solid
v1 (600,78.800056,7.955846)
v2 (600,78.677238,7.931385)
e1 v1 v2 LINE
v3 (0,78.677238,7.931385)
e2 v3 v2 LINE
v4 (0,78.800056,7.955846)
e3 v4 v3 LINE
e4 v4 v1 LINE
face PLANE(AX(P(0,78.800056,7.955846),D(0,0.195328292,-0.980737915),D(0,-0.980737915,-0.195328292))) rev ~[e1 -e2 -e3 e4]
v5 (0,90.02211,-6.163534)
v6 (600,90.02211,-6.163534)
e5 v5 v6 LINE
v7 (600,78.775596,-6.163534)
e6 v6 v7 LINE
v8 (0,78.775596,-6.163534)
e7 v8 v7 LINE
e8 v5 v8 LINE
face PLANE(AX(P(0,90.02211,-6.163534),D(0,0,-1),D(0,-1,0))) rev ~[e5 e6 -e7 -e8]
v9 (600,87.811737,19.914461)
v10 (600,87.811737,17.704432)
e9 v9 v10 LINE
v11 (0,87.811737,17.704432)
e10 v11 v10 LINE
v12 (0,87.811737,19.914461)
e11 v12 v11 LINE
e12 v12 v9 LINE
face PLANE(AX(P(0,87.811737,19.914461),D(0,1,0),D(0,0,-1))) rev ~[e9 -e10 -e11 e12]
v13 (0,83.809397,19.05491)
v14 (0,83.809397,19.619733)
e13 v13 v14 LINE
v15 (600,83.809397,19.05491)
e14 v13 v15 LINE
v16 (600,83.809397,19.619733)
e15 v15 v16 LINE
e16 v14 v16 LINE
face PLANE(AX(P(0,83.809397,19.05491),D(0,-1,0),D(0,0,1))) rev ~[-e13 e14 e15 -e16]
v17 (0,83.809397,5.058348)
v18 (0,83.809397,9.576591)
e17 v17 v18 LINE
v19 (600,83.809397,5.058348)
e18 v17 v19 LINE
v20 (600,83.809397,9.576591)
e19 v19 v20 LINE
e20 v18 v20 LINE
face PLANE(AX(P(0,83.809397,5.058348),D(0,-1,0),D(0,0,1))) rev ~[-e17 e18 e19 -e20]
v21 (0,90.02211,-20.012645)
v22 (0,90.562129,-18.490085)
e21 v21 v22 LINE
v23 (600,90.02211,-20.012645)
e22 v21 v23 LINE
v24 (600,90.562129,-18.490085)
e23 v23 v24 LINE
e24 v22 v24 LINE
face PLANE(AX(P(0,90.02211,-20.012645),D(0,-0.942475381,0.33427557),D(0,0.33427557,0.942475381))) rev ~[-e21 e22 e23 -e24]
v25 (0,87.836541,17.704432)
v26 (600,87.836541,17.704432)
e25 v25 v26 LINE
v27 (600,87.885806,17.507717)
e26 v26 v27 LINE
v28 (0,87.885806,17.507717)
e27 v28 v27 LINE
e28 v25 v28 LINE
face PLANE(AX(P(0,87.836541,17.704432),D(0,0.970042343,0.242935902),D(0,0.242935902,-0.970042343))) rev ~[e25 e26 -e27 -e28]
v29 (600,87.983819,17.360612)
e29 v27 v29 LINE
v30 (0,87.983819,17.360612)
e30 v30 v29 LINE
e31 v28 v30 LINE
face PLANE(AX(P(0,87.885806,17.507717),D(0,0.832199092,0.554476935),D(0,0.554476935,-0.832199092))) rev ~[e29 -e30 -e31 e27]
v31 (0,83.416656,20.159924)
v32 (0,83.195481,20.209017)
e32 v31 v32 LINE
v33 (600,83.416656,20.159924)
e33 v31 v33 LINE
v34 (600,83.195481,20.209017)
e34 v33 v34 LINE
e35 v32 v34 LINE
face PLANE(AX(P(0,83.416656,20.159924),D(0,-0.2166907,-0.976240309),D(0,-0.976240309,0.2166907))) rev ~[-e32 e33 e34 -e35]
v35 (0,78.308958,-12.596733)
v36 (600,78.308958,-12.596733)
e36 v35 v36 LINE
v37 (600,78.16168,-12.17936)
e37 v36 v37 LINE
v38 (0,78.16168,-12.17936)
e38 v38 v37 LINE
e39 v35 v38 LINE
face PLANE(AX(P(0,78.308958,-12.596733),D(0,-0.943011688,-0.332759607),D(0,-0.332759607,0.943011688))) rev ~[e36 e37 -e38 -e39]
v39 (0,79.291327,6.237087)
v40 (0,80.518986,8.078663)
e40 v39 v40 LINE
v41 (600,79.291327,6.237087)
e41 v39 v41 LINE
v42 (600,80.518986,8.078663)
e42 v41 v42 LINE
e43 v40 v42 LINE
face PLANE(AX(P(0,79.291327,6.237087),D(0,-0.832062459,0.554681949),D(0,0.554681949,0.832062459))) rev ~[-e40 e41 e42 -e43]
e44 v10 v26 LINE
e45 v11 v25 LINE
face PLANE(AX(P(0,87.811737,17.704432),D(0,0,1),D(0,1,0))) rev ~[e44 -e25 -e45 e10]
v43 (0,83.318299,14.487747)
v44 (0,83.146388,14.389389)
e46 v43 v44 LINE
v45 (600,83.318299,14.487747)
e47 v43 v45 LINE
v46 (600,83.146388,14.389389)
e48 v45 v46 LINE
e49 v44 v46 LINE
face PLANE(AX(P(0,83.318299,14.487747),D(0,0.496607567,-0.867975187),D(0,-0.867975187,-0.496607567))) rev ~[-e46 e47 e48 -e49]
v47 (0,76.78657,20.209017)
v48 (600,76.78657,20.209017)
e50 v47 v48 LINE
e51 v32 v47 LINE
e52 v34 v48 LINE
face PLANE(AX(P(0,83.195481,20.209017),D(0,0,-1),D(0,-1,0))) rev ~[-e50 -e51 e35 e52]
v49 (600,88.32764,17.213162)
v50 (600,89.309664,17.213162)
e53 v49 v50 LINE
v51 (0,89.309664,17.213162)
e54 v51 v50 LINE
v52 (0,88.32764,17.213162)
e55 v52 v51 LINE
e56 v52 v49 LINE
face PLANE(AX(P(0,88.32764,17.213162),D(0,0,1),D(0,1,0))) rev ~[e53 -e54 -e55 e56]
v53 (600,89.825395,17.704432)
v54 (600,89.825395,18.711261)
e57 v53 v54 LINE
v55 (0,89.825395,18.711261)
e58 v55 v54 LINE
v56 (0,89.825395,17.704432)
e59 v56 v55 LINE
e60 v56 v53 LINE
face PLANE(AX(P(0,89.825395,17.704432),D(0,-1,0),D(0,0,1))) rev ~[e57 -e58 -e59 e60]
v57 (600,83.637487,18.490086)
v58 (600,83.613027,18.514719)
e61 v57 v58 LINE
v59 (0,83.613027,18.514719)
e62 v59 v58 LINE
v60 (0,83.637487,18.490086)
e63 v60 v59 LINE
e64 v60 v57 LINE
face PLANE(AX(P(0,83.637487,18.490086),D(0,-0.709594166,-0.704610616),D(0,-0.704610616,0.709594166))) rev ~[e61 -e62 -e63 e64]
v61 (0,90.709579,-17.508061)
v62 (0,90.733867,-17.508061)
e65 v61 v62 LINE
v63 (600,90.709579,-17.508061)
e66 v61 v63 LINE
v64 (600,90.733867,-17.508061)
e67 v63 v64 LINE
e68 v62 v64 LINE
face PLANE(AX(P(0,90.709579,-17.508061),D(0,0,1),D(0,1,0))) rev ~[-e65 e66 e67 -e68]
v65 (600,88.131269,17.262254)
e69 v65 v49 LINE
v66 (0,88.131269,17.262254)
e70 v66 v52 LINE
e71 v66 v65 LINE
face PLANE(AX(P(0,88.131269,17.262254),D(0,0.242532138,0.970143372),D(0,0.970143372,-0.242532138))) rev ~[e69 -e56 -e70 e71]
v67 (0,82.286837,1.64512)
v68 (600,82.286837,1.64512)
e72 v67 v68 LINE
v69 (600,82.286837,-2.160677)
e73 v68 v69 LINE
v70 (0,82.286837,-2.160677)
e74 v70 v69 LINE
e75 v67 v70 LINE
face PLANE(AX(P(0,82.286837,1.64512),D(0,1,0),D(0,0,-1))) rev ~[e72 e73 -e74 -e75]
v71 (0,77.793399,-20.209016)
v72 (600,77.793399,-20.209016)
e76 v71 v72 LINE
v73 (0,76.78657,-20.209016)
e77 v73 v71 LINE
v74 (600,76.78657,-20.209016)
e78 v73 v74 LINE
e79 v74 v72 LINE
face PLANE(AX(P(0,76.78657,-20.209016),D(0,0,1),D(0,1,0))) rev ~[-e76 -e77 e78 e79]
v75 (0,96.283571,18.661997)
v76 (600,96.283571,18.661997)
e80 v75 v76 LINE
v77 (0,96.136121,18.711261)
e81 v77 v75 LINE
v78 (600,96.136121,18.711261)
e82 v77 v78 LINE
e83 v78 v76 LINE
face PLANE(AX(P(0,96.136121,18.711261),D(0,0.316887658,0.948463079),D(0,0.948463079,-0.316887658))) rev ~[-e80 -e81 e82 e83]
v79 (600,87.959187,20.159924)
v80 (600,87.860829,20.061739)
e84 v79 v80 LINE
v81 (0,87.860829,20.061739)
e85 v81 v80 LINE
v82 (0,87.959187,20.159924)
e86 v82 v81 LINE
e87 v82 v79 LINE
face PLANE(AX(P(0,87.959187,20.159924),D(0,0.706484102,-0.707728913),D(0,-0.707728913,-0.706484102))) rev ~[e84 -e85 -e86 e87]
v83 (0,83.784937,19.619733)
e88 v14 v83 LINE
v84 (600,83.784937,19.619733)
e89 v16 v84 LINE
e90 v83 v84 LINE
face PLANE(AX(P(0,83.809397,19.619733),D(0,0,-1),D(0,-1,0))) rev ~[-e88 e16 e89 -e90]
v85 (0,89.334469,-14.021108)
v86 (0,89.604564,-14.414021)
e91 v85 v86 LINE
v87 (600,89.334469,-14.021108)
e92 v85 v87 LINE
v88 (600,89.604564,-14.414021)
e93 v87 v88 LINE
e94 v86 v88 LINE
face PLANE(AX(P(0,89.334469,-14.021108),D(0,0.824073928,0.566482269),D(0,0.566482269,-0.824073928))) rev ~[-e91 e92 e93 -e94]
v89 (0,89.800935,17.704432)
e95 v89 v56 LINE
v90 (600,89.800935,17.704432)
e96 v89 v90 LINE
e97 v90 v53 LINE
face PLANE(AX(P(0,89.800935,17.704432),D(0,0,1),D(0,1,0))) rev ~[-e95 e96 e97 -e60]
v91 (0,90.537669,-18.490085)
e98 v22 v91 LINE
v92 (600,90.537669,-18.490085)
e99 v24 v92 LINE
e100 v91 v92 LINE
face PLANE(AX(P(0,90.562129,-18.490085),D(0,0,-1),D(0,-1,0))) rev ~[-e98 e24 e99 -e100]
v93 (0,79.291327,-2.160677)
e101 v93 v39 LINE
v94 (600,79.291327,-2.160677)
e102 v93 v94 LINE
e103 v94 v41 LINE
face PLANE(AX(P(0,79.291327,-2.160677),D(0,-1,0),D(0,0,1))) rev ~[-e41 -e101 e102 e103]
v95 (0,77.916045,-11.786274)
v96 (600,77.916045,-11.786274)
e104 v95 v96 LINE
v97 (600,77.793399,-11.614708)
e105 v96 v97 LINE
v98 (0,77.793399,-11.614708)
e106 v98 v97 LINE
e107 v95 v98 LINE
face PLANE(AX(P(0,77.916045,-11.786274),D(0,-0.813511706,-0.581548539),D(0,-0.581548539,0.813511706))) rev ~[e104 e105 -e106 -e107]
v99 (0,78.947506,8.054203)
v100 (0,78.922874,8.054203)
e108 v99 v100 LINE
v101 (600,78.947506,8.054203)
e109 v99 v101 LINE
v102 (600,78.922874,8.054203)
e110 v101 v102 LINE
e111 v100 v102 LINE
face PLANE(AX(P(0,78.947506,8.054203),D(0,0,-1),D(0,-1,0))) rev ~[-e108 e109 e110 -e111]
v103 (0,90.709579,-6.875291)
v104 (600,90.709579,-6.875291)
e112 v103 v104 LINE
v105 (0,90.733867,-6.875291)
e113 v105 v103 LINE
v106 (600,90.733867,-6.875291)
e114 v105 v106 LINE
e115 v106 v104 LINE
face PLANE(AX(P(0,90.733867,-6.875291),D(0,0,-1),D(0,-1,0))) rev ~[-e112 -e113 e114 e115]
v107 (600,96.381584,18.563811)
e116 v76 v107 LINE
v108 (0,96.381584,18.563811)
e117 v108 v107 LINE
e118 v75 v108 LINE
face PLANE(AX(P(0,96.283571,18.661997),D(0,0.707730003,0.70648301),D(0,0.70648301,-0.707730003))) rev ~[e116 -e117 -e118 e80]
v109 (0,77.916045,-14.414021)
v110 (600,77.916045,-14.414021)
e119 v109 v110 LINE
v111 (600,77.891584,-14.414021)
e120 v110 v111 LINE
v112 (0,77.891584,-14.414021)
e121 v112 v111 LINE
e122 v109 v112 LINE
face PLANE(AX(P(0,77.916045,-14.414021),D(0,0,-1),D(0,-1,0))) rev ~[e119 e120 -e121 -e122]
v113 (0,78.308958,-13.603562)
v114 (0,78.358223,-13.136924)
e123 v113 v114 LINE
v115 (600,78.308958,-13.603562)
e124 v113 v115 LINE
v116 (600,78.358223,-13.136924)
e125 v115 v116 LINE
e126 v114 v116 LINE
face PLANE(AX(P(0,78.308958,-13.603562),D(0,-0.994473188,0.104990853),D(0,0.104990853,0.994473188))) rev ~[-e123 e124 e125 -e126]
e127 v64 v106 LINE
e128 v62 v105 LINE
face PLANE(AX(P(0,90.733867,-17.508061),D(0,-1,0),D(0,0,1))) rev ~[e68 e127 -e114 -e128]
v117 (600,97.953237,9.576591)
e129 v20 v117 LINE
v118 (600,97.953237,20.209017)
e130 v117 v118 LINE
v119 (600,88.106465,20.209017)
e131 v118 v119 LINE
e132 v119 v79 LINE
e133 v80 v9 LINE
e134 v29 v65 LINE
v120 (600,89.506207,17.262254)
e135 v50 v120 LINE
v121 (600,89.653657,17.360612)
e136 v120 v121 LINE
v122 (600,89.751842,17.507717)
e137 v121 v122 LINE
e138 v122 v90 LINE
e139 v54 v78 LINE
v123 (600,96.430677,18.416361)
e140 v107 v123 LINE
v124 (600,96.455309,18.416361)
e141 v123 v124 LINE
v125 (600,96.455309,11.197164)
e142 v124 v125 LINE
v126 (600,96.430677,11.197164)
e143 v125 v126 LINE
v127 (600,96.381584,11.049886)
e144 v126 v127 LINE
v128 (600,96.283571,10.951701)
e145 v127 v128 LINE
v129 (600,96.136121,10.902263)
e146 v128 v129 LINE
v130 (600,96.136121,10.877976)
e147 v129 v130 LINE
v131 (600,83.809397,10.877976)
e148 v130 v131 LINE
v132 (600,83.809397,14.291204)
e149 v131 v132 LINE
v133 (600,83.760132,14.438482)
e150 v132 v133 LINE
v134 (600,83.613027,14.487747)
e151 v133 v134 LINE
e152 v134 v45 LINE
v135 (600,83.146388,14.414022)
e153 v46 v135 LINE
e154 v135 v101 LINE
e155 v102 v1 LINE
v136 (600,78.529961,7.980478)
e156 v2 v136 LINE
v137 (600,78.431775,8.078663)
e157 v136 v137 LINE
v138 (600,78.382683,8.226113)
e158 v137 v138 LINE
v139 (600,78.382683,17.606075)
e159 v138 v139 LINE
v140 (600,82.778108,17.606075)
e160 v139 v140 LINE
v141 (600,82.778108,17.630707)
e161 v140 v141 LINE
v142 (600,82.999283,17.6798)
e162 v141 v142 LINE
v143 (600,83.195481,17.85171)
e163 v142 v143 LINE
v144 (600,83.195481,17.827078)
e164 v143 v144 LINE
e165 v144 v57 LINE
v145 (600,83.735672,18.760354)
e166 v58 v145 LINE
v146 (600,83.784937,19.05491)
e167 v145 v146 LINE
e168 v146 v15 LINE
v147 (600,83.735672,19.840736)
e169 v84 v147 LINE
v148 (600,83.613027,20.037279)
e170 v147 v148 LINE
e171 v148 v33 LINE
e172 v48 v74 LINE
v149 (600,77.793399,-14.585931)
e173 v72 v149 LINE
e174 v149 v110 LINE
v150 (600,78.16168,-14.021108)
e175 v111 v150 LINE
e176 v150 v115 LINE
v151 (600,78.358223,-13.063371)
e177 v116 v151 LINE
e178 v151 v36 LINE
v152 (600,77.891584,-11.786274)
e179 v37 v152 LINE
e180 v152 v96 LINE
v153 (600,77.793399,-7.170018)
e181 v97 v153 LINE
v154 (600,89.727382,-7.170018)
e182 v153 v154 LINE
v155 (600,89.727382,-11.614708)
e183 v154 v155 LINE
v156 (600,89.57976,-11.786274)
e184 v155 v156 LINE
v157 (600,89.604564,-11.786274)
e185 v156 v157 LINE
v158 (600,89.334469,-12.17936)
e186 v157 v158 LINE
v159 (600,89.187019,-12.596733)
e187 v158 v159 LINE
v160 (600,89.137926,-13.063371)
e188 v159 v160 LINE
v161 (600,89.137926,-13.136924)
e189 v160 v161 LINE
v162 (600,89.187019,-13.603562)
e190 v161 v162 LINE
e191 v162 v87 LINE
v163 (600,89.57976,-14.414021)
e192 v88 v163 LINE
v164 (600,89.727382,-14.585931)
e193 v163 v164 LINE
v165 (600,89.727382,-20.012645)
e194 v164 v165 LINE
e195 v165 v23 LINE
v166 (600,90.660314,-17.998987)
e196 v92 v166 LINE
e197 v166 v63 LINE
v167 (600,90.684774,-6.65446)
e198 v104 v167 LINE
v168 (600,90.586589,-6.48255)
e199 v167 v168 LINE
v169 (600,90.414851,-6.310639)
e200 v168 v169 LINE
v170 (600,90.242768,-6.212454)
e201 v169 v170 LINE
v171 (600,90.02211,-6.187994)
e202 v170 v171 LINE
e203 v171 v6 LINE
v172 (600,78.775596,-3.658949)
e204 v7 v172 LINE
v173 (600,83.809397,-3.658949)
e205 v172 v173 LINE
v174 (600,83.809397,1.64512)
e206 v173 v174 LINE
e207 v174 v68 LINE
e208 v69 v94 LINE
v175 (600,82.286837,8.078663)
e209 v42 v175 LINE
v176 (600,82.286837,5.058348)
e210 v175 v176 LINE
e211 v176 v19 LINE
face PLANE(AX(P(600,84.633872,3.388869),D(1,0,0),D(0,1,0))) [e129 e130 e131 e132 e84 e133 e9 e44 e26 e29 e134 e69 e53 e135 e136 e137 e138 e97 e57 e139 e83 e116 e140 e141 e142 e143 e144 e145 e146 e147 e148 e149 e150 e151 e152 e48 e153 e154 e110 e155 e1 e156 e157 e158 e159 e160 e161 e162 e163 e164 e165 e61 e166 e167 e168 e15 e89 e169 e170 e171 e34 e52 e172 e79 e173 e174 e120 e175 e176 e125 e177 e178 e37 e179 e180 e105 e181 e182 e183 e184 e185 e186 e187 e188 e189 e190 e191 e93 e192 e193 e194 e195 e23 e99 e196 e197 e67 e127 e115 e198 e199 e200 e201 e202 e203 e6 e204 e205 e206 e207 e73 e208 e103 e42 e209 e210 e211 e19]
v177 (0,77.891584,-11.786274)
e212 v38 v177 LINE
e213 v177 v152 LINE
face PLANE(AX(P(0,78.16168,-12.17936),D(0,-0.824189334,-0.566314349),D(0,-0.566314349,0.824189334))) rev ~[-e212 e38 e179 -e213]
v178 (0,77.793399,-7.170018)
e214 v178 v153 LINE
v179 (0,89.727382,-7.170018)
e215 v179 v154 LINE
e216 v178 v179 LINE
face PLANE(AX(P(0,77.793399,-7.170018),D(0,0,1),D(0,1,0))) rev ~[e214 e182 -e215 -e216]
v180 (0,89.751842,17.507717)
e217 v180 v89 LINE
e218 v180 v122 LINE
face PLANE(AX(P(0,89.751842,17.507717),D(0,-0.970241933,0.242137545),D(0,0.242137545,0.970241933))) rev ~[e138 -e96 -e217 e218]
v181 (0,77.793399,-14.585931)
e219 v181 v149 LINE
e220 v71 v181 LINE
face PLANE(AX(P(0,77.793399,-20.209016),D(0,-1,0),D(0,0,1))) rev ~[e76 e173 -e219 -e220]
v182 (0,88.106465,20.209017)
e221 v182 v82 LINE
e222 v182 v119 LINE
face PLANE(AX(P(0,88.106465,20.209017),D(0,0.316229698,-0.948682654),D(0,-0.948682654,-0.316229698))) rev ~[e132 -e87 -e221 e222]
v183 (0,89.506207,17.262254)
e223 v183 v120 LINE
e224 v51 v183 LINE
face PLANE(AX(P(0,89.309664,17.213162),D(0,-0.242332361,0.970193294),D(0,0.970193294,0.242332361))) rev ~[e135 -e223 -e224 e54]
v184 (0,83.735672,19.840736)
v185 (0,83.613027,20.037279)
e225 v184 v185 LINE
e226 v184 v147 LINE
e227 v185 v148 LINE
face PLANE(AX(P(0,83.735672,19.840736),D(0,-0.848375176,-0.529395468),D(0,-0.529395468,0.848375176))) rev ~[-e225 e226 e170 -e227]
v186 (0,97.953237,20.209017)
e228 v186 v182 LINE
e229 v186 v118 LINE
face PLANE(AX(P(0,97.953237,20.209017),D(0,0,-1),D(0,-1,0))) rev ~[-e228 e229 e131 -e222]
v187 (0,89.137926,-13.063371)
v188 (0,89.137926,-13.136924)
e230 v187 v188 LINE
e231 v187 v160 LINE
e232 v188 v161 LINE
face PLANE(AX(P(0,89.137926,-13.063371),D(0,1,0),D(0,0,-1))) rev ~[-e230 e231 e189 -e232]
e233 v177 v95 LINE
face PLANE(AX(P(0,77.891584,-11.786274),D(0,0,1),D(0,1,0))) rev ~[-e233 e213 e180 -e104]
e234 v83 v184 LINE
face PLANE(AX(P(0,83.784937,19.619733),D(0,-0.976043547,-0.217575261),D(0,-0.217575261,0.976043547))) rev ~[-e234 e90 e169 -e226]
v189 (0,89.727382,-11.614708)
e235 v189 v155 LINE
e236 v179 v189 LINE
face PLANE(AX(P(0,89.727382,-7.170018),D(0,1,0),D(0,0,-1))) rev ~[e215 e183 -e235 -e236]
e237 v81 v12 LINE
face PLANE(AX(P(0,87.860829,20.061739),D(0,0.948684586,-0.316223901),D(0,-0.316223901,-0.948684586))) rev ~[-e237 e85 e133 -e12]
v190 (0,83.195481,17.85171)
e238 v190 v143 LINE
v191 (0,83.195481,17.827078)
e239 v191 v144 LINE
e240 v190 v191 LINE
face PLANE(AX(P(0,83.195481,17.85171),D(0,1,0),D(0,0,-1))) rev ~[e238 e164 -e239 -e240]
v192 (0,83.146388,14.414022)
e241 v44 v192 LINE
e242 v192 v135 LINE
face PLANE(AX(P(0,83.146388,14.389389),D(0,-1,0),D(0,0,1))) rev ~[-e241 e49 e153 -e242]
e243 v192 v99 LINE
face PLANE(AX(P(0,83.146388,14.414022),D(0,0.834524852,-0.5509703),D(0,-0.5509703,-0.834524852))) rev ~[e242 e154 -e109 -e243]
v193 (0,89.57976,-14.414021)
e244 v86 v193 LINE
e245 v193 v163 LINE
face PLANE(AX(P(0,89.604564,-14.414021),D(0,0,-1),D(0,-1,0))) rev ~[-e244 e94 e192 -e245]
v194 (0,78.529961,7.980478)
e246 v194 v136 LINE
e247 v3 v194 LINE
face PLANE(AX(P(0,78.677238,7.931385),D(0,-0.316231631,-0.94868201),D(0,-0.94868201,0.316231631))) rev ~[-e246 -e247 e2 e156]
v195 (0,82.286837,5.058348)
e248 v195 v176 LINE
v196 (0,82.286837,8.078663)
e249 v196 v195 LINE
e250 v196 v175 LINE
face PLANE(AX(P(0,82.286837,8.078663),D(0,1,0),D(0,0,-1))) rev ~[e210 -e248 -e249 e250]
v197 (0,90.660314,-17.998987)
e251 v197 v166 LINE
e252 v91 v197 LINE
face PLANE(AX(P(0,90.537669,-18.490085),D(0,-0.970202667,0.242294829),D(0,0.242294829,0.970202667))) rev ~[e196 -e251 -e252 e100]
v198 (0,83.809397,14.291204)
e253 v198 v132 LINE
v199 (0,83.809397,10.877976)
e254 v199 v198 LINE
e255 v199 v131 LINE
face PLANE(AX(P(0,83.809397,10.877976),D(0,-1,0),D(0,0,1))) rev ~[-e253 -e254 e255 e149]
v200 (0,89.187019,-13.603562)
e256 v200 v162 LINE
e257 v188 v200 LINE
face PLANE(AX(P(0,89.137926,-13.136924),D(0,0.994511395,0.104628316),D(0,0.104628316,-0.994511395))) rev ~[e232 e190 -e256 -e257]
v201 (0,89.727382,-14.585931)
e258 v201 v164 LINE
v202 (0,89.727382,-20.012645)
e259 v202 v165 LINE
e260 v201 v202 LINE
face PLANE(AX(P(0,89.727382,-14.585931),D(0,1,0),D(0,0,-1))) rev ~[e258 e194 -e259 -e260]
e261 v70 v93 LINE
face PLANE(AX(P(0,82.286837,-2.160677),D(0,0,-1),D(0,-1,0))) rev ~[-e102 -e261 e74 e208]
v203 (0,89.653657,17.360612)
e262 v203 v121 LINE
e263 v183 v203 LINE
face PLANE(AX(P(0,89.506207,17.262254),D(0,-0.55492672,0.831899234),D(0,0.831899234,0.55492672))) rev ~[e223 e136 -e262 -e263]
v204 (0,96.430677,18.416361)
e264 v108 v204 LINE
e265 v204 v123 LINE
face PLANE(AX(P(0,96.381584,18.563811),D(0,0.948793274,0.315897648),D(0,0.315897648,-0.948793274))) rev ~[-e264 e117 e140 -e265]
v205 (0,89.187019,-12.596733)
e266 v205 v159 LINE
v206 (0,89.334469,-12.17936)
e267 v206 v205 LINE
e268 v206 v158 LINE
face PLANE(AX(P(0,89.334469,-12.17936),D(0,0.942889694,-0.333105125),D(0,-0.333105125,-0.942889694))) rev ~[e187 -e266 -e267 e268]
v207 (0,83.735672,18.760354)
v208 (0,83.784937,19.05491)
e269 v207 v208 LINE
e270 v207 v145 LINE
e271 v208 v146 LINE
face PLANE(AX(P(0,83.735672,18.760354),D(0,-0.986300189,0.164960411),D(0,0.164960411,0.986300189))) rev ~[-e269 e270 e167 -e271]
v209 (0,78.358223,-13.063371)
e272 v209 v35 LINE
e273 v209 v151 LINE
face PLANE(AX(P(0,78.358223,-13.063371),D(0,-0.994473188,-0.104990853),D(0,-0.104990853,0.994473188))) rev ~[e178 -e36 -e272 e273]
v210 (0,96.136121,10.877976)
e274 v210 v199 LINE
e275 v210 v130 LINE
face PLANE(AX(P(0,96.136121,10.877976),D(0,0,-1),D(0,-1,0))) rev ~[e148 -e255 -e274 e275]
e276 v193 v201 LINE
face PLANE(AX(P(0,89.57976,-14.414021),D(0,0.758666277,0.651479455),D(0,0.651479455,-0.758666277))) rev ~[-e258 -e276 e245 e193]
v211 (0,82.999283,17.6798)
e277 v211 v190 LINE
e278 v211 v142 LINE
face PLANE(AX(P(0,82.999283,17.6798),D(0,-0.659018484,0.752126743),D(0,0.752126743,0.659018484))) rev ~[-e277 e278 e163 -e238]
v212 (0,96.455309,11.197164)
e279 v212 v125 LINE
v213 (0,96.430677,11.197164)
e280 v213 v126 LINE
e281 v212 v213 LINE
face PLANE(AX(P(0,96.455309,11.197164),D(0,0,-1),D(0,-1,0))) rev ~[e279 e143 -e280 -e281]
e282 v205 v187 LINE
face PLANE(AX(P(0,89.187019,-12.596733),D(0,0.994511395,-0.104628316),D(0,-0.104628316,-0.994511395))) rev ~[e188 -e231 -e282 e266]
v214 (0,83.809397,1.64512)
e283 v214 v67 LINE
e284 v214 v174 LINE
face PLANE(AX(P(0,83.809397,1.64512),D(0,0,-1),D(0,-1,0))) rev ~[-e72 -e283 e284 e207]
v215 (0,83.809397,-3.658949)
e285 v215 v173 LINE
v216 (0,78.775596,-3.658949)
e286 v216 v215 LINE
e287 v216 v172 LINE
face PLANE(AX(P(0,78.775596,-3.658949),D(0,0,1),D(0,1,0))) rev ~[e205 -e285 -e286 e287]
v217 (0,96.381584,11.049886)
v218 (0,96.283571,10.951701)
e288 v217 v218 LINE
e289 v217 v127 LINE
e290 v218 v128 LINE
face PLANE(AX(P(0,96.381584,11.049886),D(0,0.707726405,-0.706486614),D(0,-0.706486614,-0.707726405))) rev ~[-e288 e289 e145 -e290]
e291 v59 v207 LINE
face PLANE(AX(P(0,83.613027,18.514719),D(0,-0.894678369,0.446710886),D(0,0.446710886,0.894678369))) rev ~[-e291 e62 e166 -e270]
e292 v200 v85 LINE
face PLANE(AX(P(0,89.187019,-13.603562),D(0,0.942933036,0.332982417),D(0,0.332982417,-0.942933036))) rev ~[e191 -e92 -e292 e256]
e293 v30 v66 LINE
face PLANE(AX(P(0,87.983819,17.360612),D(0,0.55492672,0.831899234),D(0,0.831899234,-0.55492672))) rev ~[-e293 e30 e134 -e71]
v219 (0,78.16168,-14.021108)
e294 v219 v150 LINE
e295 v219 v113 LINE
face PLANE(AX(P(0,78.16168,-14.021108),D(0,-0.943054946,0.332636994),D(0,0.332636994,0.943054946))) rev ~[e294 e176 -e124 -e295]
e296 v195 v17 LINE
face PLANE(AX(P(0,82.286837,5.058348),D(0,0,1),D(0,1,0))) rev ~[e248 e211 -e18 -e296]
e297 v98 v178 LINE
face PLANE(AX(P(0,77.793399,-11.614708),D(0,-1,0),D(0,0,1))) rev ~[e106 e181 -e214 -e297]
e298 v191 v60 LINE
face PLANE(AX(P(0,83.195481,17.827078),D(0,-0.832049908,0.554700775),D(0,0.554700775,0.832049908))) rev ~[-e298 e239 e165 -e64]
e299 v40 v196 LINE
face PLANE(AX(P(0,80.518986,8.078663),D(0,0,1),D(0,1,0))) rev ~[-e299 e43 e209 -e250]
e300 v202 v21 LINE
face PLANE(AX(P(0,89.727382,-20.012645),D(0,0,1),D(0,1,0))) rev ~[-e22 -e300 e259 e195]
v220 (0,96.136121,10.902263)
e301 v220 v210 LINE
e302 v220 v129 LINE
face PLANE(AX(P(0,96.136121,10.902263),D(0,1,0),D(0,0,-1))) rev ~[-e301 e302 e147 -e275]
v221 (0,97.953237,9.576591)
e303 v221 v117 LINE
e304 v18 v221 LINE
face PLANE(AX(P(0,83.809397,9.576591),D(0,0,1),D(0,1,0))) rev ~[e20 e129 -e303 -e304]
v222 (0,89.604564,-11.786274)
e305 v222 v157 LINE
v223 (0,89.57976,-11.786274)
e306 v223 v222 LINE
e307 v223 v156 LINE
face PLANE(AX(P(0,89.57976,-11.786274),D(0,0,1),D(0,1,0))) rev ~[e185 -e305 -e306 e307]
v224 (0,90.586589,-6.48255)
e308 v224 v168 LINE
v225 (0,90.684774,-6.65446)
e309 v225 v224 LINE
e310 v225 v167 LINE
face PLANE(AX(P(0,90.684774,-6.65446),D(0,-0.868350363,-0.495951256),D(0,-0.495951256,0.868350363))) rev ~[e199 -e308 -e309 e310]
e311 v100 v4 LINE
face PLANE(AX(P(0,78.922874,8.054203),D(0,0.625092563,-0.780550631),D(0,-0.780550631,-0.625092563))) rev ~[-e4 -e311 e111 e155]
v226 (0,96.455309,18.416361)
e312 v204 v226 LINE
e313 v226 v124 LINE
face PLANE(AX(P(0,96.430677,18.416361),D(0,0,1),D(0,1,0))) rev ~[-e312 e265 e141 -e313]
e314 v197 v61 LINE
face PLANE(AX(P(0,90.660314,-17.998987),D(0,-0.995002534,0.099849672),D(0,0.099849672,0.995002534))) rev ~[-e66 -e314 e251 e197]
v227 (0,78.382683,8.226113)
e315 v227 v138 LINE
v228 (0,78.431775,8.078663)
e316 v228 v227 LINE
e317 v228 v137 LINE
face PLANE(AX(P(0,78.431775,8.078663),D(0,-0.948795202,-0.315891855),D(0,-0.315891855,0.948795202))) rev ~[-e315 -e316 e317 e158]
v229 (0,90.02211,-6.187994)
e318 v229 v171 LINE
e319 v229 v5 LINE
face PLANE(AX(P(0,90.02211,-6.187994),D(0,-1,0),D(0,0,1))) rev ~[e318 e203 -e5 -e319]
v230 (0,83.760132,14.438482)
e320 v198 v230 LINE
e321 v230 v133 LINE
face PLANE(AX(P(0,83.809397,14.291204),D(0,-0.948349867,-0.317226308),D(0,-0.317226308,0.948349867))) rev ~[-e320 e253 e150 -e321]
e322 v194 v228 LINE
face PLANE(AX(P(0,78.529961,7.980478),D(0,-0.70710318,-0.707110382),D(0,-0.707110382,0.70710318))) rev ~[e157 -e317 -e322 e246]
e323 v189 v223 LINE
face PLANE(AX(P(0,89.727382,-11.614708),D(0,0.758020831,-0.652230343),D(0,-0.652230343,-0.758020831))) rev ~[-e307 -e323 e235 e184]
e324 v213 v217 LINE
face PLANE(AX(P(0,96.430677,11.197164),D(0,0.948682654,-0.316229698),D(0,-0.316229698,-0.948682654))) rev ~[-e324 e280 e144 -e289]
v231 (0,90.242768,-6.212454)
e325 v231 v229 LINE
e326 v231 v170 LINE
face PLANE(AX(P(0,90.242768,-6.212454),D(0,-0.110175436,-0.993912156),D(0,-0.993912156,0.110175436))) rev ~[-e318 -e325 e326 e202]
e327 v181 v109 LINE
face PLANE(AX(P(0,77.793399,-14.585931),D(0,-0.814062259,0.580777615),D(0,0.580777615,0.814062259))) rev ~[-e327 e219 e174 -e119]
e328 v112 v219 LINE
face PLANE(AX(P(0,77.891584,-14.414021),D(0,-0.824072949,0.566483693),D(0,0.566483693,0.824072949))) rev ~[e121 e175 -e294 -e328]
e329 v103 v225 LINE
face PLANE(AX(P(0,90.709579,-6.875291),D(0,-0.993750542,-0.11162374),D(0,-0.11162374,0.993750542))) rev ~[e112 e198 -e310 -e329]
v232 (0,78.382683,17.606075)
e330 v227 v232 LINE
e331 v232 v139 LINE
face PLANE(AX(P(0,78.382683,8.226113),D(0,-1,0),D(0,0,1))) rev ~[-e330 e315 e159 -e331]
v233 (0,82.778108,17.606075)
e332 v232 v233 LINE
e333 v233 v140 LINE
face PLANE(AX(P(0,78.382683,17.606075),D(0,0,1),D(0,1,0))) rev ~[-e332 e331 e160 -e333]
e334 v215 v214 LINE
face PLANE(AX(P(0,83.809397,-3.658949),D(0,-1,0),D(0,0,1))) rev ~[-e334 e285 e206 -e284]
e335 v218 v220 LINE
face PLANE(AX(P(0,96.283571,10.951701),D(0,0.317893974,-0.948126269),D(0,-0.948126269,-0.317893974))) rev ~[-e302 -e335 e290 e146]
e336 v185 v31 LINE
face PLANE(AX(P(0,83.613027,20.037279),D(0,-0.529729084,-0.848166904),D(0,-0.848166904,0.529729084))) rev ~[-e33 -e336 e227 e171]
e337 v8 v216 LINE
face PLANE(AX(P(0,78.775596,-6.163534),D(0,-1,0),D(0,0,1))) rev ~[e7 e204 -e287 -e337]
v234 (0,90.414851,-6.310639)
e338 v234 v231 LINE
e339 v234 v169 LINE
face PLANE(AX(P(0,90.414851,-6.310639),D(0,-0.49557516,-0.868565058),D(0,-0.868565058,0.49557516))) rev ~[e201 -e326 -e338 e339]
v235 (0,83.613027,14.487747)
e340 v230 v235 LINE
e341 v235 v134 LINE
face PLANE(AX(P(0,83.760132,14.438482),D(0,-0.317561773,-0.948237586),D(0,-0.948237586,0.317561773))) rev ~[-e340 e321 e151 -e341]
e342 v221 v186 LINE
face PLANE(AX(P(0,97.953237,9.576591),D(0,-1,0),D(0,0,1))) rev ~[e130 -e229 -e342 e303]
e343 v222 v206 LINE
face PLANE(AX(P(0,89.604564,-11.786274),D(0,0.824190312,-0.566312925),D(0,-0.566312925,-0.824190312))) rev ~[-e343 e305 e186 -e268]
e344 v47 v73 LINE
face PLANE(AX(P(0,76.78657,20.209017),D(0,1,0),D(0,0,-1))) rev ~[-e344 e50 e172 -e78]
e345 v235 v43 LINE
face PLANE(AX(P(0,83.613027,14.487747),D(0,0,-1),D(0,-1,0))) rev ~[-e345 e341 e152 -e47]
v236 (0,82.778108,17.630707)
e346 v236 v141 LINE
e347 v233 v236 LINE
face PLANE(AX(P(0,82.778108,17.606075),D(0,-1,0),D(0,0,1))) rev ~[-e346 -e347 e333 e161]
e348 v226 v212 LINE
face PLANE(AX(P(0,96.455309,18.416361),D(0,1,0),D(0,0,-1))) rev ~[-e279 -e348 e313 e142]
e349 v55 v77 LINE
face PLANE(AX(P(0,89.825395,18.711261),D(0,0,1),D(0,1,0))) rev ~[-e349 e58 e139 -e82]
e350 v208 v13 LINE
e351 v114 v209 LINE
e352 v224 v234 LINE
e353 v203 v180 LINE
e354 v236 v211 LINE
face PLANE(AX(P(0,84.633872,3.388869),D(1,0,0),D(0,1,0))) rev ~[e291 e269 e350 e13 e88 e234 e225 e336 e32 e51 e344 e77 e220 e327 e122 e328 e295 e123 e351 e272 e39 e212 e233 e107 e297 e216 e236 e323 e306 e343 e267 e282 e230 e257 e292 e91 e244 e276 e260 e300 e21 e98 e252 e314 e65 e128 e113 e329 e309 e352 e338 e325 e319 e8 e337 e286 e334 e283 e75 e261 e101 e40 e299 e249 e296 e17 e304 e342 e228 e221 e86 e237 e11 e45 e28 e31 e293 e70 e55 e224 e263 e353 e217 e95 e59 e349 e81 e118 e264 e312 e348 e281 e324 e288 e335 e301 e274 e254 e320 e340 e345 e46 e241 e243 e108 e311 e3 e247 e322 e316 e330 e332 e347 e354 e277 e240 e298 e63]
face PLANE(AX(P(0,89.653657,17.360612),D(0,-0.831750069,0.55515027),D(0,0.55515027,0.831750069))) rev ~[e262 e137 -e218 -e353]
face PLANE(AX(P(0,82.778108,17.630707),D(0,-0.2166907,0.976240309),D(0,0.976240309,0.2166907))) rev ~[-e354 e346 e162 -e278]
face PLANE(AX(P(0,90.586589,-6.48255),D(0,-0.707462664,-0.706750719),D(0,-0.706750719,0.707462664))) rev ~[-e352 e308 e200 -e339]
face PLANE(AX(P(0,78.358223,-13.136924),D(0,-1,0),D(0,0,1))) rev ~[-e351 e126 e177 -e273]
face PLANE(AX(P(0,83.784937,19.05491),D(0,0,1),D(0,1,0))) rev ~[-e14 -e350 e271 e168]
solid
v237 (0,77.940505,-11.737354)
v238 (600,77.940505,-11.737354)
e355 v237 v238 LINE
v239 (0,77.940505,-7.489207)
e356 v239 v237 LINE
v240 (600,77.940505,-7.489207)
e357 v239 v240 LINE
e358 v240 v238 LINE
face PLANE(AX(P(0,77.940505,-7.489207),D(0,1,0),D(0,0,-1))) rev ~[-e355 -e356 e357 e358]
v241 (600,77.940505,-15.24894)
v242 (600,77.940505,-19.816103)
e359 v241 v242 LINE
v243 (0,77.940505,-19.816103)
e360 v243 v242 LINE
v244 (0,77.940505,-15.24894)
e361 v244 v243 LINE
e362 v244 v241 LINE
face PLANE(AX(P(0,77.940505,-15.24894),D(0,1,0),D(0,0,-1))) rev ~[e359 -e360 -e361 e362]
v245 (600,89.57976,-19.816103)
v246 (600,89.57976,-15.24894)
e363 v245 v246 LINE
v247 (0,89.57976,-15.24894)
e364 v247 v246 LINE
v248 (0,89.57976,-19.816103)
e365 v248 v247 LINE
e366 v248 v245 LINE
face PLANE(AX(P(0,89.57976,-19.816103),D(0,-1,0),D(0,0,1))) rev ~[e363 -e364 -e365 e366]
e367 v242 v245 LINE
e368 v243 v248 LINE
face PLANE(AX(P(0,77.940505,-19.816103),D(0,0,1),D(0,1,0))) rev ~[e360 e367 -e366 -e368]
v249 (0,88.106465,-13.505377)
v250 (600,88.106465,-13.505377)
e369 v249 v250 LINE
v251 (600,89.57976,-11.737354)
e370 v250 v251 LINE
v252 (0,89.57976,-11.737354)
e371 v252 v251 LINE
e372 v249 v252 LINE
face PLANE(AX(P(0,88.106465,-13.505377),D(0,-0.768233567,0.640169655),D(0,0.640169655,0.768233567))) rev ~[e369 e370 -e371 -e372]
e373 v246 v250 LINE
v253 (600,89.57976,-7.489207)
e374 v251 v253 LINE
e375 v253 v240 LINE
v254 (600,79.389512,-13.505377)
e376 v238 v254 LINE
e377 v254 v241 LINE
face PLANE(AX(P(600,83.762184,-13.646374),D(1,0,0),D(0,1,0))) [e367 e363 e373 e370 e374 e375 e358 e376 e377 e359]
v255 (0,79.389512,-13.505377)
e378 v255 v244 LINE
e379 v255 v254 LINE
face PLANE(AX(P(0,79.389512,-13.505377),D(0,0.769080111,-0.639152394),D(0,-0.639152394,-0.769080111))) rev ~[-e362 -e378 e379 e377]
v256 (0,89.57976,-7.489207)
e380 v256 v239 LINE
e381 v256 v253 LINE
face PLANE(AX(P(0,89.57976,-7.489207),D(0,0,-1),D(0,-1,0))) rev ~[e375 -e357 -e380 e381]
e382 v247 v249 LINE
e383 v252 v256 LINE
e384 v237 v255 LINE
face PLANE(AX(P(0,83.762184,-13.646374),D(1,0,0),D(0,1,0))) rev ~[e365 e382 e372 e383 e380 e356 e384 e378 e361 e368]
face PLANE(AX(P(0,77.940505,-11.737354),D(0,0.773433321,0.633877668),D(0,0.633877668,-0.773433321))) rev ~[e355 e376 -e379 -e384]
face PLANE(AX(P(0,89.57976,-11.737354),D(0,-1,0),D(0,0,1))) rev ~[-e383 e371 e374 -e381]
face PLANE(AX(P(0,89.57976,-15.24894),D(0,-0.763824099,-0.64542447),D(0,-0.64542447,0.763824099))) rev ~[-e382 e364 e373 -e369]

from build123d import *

# Parameters (mm, degrees)
F1_DEPTH = 600


with BuildPart() as f1:
    # F0 (on Right) → F1 (new body)
    with BuildSketch(Plane.YZ):
        Polygon((97.953237, 9.576591), (97.953237, 20.209017), (88.106465, 20.209017), (87.959187, 20.159924), (87.860829, 20.061739), (87.811737, 19.914461), (87.811737, 17.704432), (87.836541, 17.704432), (87.885806, 17.507717), (87.983819, 17.360612), (88.131269, 17.262254), (88.32764, 17.213162), (89.309664, 17.213162), (89.506207, 17.262254), (89.653657, 17.360612), (89.751842, 17.507717), (89.800935, 17.704432), (89.825395, 17.704432), (89.825395, 18.711261), (96.136121, 18.711261), (96.283571, 18.661997), (96.381584, 18.563811), (96.430677, 18.416361), (96.455309, 18.416361), (96.455309, 11.197164), (96.430677, 11.197164), (96.381584, 11.049886), (96.283571, 10.951701), (96.136121, 10.902263), (96.136121, 10.877976), (83.809397, 10.877976), (83.809397, 14.291204), (83.760132, 14.438482), (83.613027, 14.487747), (83.318299, 14.487747), (83.146388, 14.389389), (83.146388, 14.414022), (78.947506, 8.054203), (78.922874, 8.054203), (78.800056, 7.955846), (78.677238, 7.931385), (78.529961, 7.980478), (78.431775, 8.078663), (78.382683, 8.226113), (78.382683, 17.606075), (82.778108, 17.606075), (82.778108, 17.630707), (82.999283, 17.6798), (83.195481, 17.85171), (83.195481, 17.827078), (83.637487, 18.490086), (83.613027, 18.514719), (83.735672, 18.760354), (83.784937, 19.05491), (83.809397, 19.05491), (83.809397, 19.619733), (83.784937, 19.619733), (83.735672, 19.840736), (83.613027, 20.037279), (83.416656, 20.159924), (83.195481, 20.209017), (76.78657, 20.209017), (76.78657, -20.209016), (77.793399, -20.209016), (77.793399, -14.585931), (77.916045, -14.414021), (77.891584, -14.414021), (78.16168, -14.021108), (78.308958, -13.603562), (78.358223, -13.136924), (78.358223, -13.063371), (78.308958, -12.596733), (78.16168, -12.17936), (77.891584, -11.786274), (77.916045, -11.786274), (77.793399, -11.614708), (77.793399, -7.170018), (89.727382, -7.170018), (89.727382, -11.614708), (89.57976, -11.786274), (89.604564, -11.786274), (89.334469, -12.17936), (89.187019, -12.596733), (89.137926, -13.063371), (89.137926, -13.136924), (89.187019, -13.603562), (89.334469, -14.021108), (89.604564, -14.414021), (89.57976, -14.414021), (89.727382, -14.585931), (89.727382, -20.012645), (90.02211, -20.012645), (90.562129, -18.490085), (90.537669, -18.490085), (90.660314, -17.998987), (90.709579, -17.508061), (90.733867, -17.508061), (90.733867, -6.875291), (90.709579, -6.875291), (90.684774, -6.65446), (90.586589, -6.48255), (90.414851, -6.310639), (90.242768, -6.212454), (90.02211, -6.187994), (90.02211, -6.163534), (78.775596, -6.163534), (78.775596, -3.658949), (83.809397, -3.658949), (83.809397, 1.64512), (82.286837, 1.64512), (82.286837, -2.160677), (79.291327, -2.160677), (79.291327, 6.237087), (80.518986, 8.078663), (81.402912, 8.078663), (82.286837, 8.078663), (82.286837, 5.058348), (83.809397, 5.058348), (83.809397, 9.576591), align=None)
        Polygon((77.940505, -7.489207), (77.940505, -11.737354), (79.389512, -13.505377), (77.940505, -15.24894), (77.940505, -19.816103), (89.57976, -19.816103), (89.57976, -15.24894), (88.106465, -13.505377), (89.57976, -11.737354), (89.57976, -7.489207), align=None)
    extrude(amount=F1_DEPTH)


solid = f1.part
